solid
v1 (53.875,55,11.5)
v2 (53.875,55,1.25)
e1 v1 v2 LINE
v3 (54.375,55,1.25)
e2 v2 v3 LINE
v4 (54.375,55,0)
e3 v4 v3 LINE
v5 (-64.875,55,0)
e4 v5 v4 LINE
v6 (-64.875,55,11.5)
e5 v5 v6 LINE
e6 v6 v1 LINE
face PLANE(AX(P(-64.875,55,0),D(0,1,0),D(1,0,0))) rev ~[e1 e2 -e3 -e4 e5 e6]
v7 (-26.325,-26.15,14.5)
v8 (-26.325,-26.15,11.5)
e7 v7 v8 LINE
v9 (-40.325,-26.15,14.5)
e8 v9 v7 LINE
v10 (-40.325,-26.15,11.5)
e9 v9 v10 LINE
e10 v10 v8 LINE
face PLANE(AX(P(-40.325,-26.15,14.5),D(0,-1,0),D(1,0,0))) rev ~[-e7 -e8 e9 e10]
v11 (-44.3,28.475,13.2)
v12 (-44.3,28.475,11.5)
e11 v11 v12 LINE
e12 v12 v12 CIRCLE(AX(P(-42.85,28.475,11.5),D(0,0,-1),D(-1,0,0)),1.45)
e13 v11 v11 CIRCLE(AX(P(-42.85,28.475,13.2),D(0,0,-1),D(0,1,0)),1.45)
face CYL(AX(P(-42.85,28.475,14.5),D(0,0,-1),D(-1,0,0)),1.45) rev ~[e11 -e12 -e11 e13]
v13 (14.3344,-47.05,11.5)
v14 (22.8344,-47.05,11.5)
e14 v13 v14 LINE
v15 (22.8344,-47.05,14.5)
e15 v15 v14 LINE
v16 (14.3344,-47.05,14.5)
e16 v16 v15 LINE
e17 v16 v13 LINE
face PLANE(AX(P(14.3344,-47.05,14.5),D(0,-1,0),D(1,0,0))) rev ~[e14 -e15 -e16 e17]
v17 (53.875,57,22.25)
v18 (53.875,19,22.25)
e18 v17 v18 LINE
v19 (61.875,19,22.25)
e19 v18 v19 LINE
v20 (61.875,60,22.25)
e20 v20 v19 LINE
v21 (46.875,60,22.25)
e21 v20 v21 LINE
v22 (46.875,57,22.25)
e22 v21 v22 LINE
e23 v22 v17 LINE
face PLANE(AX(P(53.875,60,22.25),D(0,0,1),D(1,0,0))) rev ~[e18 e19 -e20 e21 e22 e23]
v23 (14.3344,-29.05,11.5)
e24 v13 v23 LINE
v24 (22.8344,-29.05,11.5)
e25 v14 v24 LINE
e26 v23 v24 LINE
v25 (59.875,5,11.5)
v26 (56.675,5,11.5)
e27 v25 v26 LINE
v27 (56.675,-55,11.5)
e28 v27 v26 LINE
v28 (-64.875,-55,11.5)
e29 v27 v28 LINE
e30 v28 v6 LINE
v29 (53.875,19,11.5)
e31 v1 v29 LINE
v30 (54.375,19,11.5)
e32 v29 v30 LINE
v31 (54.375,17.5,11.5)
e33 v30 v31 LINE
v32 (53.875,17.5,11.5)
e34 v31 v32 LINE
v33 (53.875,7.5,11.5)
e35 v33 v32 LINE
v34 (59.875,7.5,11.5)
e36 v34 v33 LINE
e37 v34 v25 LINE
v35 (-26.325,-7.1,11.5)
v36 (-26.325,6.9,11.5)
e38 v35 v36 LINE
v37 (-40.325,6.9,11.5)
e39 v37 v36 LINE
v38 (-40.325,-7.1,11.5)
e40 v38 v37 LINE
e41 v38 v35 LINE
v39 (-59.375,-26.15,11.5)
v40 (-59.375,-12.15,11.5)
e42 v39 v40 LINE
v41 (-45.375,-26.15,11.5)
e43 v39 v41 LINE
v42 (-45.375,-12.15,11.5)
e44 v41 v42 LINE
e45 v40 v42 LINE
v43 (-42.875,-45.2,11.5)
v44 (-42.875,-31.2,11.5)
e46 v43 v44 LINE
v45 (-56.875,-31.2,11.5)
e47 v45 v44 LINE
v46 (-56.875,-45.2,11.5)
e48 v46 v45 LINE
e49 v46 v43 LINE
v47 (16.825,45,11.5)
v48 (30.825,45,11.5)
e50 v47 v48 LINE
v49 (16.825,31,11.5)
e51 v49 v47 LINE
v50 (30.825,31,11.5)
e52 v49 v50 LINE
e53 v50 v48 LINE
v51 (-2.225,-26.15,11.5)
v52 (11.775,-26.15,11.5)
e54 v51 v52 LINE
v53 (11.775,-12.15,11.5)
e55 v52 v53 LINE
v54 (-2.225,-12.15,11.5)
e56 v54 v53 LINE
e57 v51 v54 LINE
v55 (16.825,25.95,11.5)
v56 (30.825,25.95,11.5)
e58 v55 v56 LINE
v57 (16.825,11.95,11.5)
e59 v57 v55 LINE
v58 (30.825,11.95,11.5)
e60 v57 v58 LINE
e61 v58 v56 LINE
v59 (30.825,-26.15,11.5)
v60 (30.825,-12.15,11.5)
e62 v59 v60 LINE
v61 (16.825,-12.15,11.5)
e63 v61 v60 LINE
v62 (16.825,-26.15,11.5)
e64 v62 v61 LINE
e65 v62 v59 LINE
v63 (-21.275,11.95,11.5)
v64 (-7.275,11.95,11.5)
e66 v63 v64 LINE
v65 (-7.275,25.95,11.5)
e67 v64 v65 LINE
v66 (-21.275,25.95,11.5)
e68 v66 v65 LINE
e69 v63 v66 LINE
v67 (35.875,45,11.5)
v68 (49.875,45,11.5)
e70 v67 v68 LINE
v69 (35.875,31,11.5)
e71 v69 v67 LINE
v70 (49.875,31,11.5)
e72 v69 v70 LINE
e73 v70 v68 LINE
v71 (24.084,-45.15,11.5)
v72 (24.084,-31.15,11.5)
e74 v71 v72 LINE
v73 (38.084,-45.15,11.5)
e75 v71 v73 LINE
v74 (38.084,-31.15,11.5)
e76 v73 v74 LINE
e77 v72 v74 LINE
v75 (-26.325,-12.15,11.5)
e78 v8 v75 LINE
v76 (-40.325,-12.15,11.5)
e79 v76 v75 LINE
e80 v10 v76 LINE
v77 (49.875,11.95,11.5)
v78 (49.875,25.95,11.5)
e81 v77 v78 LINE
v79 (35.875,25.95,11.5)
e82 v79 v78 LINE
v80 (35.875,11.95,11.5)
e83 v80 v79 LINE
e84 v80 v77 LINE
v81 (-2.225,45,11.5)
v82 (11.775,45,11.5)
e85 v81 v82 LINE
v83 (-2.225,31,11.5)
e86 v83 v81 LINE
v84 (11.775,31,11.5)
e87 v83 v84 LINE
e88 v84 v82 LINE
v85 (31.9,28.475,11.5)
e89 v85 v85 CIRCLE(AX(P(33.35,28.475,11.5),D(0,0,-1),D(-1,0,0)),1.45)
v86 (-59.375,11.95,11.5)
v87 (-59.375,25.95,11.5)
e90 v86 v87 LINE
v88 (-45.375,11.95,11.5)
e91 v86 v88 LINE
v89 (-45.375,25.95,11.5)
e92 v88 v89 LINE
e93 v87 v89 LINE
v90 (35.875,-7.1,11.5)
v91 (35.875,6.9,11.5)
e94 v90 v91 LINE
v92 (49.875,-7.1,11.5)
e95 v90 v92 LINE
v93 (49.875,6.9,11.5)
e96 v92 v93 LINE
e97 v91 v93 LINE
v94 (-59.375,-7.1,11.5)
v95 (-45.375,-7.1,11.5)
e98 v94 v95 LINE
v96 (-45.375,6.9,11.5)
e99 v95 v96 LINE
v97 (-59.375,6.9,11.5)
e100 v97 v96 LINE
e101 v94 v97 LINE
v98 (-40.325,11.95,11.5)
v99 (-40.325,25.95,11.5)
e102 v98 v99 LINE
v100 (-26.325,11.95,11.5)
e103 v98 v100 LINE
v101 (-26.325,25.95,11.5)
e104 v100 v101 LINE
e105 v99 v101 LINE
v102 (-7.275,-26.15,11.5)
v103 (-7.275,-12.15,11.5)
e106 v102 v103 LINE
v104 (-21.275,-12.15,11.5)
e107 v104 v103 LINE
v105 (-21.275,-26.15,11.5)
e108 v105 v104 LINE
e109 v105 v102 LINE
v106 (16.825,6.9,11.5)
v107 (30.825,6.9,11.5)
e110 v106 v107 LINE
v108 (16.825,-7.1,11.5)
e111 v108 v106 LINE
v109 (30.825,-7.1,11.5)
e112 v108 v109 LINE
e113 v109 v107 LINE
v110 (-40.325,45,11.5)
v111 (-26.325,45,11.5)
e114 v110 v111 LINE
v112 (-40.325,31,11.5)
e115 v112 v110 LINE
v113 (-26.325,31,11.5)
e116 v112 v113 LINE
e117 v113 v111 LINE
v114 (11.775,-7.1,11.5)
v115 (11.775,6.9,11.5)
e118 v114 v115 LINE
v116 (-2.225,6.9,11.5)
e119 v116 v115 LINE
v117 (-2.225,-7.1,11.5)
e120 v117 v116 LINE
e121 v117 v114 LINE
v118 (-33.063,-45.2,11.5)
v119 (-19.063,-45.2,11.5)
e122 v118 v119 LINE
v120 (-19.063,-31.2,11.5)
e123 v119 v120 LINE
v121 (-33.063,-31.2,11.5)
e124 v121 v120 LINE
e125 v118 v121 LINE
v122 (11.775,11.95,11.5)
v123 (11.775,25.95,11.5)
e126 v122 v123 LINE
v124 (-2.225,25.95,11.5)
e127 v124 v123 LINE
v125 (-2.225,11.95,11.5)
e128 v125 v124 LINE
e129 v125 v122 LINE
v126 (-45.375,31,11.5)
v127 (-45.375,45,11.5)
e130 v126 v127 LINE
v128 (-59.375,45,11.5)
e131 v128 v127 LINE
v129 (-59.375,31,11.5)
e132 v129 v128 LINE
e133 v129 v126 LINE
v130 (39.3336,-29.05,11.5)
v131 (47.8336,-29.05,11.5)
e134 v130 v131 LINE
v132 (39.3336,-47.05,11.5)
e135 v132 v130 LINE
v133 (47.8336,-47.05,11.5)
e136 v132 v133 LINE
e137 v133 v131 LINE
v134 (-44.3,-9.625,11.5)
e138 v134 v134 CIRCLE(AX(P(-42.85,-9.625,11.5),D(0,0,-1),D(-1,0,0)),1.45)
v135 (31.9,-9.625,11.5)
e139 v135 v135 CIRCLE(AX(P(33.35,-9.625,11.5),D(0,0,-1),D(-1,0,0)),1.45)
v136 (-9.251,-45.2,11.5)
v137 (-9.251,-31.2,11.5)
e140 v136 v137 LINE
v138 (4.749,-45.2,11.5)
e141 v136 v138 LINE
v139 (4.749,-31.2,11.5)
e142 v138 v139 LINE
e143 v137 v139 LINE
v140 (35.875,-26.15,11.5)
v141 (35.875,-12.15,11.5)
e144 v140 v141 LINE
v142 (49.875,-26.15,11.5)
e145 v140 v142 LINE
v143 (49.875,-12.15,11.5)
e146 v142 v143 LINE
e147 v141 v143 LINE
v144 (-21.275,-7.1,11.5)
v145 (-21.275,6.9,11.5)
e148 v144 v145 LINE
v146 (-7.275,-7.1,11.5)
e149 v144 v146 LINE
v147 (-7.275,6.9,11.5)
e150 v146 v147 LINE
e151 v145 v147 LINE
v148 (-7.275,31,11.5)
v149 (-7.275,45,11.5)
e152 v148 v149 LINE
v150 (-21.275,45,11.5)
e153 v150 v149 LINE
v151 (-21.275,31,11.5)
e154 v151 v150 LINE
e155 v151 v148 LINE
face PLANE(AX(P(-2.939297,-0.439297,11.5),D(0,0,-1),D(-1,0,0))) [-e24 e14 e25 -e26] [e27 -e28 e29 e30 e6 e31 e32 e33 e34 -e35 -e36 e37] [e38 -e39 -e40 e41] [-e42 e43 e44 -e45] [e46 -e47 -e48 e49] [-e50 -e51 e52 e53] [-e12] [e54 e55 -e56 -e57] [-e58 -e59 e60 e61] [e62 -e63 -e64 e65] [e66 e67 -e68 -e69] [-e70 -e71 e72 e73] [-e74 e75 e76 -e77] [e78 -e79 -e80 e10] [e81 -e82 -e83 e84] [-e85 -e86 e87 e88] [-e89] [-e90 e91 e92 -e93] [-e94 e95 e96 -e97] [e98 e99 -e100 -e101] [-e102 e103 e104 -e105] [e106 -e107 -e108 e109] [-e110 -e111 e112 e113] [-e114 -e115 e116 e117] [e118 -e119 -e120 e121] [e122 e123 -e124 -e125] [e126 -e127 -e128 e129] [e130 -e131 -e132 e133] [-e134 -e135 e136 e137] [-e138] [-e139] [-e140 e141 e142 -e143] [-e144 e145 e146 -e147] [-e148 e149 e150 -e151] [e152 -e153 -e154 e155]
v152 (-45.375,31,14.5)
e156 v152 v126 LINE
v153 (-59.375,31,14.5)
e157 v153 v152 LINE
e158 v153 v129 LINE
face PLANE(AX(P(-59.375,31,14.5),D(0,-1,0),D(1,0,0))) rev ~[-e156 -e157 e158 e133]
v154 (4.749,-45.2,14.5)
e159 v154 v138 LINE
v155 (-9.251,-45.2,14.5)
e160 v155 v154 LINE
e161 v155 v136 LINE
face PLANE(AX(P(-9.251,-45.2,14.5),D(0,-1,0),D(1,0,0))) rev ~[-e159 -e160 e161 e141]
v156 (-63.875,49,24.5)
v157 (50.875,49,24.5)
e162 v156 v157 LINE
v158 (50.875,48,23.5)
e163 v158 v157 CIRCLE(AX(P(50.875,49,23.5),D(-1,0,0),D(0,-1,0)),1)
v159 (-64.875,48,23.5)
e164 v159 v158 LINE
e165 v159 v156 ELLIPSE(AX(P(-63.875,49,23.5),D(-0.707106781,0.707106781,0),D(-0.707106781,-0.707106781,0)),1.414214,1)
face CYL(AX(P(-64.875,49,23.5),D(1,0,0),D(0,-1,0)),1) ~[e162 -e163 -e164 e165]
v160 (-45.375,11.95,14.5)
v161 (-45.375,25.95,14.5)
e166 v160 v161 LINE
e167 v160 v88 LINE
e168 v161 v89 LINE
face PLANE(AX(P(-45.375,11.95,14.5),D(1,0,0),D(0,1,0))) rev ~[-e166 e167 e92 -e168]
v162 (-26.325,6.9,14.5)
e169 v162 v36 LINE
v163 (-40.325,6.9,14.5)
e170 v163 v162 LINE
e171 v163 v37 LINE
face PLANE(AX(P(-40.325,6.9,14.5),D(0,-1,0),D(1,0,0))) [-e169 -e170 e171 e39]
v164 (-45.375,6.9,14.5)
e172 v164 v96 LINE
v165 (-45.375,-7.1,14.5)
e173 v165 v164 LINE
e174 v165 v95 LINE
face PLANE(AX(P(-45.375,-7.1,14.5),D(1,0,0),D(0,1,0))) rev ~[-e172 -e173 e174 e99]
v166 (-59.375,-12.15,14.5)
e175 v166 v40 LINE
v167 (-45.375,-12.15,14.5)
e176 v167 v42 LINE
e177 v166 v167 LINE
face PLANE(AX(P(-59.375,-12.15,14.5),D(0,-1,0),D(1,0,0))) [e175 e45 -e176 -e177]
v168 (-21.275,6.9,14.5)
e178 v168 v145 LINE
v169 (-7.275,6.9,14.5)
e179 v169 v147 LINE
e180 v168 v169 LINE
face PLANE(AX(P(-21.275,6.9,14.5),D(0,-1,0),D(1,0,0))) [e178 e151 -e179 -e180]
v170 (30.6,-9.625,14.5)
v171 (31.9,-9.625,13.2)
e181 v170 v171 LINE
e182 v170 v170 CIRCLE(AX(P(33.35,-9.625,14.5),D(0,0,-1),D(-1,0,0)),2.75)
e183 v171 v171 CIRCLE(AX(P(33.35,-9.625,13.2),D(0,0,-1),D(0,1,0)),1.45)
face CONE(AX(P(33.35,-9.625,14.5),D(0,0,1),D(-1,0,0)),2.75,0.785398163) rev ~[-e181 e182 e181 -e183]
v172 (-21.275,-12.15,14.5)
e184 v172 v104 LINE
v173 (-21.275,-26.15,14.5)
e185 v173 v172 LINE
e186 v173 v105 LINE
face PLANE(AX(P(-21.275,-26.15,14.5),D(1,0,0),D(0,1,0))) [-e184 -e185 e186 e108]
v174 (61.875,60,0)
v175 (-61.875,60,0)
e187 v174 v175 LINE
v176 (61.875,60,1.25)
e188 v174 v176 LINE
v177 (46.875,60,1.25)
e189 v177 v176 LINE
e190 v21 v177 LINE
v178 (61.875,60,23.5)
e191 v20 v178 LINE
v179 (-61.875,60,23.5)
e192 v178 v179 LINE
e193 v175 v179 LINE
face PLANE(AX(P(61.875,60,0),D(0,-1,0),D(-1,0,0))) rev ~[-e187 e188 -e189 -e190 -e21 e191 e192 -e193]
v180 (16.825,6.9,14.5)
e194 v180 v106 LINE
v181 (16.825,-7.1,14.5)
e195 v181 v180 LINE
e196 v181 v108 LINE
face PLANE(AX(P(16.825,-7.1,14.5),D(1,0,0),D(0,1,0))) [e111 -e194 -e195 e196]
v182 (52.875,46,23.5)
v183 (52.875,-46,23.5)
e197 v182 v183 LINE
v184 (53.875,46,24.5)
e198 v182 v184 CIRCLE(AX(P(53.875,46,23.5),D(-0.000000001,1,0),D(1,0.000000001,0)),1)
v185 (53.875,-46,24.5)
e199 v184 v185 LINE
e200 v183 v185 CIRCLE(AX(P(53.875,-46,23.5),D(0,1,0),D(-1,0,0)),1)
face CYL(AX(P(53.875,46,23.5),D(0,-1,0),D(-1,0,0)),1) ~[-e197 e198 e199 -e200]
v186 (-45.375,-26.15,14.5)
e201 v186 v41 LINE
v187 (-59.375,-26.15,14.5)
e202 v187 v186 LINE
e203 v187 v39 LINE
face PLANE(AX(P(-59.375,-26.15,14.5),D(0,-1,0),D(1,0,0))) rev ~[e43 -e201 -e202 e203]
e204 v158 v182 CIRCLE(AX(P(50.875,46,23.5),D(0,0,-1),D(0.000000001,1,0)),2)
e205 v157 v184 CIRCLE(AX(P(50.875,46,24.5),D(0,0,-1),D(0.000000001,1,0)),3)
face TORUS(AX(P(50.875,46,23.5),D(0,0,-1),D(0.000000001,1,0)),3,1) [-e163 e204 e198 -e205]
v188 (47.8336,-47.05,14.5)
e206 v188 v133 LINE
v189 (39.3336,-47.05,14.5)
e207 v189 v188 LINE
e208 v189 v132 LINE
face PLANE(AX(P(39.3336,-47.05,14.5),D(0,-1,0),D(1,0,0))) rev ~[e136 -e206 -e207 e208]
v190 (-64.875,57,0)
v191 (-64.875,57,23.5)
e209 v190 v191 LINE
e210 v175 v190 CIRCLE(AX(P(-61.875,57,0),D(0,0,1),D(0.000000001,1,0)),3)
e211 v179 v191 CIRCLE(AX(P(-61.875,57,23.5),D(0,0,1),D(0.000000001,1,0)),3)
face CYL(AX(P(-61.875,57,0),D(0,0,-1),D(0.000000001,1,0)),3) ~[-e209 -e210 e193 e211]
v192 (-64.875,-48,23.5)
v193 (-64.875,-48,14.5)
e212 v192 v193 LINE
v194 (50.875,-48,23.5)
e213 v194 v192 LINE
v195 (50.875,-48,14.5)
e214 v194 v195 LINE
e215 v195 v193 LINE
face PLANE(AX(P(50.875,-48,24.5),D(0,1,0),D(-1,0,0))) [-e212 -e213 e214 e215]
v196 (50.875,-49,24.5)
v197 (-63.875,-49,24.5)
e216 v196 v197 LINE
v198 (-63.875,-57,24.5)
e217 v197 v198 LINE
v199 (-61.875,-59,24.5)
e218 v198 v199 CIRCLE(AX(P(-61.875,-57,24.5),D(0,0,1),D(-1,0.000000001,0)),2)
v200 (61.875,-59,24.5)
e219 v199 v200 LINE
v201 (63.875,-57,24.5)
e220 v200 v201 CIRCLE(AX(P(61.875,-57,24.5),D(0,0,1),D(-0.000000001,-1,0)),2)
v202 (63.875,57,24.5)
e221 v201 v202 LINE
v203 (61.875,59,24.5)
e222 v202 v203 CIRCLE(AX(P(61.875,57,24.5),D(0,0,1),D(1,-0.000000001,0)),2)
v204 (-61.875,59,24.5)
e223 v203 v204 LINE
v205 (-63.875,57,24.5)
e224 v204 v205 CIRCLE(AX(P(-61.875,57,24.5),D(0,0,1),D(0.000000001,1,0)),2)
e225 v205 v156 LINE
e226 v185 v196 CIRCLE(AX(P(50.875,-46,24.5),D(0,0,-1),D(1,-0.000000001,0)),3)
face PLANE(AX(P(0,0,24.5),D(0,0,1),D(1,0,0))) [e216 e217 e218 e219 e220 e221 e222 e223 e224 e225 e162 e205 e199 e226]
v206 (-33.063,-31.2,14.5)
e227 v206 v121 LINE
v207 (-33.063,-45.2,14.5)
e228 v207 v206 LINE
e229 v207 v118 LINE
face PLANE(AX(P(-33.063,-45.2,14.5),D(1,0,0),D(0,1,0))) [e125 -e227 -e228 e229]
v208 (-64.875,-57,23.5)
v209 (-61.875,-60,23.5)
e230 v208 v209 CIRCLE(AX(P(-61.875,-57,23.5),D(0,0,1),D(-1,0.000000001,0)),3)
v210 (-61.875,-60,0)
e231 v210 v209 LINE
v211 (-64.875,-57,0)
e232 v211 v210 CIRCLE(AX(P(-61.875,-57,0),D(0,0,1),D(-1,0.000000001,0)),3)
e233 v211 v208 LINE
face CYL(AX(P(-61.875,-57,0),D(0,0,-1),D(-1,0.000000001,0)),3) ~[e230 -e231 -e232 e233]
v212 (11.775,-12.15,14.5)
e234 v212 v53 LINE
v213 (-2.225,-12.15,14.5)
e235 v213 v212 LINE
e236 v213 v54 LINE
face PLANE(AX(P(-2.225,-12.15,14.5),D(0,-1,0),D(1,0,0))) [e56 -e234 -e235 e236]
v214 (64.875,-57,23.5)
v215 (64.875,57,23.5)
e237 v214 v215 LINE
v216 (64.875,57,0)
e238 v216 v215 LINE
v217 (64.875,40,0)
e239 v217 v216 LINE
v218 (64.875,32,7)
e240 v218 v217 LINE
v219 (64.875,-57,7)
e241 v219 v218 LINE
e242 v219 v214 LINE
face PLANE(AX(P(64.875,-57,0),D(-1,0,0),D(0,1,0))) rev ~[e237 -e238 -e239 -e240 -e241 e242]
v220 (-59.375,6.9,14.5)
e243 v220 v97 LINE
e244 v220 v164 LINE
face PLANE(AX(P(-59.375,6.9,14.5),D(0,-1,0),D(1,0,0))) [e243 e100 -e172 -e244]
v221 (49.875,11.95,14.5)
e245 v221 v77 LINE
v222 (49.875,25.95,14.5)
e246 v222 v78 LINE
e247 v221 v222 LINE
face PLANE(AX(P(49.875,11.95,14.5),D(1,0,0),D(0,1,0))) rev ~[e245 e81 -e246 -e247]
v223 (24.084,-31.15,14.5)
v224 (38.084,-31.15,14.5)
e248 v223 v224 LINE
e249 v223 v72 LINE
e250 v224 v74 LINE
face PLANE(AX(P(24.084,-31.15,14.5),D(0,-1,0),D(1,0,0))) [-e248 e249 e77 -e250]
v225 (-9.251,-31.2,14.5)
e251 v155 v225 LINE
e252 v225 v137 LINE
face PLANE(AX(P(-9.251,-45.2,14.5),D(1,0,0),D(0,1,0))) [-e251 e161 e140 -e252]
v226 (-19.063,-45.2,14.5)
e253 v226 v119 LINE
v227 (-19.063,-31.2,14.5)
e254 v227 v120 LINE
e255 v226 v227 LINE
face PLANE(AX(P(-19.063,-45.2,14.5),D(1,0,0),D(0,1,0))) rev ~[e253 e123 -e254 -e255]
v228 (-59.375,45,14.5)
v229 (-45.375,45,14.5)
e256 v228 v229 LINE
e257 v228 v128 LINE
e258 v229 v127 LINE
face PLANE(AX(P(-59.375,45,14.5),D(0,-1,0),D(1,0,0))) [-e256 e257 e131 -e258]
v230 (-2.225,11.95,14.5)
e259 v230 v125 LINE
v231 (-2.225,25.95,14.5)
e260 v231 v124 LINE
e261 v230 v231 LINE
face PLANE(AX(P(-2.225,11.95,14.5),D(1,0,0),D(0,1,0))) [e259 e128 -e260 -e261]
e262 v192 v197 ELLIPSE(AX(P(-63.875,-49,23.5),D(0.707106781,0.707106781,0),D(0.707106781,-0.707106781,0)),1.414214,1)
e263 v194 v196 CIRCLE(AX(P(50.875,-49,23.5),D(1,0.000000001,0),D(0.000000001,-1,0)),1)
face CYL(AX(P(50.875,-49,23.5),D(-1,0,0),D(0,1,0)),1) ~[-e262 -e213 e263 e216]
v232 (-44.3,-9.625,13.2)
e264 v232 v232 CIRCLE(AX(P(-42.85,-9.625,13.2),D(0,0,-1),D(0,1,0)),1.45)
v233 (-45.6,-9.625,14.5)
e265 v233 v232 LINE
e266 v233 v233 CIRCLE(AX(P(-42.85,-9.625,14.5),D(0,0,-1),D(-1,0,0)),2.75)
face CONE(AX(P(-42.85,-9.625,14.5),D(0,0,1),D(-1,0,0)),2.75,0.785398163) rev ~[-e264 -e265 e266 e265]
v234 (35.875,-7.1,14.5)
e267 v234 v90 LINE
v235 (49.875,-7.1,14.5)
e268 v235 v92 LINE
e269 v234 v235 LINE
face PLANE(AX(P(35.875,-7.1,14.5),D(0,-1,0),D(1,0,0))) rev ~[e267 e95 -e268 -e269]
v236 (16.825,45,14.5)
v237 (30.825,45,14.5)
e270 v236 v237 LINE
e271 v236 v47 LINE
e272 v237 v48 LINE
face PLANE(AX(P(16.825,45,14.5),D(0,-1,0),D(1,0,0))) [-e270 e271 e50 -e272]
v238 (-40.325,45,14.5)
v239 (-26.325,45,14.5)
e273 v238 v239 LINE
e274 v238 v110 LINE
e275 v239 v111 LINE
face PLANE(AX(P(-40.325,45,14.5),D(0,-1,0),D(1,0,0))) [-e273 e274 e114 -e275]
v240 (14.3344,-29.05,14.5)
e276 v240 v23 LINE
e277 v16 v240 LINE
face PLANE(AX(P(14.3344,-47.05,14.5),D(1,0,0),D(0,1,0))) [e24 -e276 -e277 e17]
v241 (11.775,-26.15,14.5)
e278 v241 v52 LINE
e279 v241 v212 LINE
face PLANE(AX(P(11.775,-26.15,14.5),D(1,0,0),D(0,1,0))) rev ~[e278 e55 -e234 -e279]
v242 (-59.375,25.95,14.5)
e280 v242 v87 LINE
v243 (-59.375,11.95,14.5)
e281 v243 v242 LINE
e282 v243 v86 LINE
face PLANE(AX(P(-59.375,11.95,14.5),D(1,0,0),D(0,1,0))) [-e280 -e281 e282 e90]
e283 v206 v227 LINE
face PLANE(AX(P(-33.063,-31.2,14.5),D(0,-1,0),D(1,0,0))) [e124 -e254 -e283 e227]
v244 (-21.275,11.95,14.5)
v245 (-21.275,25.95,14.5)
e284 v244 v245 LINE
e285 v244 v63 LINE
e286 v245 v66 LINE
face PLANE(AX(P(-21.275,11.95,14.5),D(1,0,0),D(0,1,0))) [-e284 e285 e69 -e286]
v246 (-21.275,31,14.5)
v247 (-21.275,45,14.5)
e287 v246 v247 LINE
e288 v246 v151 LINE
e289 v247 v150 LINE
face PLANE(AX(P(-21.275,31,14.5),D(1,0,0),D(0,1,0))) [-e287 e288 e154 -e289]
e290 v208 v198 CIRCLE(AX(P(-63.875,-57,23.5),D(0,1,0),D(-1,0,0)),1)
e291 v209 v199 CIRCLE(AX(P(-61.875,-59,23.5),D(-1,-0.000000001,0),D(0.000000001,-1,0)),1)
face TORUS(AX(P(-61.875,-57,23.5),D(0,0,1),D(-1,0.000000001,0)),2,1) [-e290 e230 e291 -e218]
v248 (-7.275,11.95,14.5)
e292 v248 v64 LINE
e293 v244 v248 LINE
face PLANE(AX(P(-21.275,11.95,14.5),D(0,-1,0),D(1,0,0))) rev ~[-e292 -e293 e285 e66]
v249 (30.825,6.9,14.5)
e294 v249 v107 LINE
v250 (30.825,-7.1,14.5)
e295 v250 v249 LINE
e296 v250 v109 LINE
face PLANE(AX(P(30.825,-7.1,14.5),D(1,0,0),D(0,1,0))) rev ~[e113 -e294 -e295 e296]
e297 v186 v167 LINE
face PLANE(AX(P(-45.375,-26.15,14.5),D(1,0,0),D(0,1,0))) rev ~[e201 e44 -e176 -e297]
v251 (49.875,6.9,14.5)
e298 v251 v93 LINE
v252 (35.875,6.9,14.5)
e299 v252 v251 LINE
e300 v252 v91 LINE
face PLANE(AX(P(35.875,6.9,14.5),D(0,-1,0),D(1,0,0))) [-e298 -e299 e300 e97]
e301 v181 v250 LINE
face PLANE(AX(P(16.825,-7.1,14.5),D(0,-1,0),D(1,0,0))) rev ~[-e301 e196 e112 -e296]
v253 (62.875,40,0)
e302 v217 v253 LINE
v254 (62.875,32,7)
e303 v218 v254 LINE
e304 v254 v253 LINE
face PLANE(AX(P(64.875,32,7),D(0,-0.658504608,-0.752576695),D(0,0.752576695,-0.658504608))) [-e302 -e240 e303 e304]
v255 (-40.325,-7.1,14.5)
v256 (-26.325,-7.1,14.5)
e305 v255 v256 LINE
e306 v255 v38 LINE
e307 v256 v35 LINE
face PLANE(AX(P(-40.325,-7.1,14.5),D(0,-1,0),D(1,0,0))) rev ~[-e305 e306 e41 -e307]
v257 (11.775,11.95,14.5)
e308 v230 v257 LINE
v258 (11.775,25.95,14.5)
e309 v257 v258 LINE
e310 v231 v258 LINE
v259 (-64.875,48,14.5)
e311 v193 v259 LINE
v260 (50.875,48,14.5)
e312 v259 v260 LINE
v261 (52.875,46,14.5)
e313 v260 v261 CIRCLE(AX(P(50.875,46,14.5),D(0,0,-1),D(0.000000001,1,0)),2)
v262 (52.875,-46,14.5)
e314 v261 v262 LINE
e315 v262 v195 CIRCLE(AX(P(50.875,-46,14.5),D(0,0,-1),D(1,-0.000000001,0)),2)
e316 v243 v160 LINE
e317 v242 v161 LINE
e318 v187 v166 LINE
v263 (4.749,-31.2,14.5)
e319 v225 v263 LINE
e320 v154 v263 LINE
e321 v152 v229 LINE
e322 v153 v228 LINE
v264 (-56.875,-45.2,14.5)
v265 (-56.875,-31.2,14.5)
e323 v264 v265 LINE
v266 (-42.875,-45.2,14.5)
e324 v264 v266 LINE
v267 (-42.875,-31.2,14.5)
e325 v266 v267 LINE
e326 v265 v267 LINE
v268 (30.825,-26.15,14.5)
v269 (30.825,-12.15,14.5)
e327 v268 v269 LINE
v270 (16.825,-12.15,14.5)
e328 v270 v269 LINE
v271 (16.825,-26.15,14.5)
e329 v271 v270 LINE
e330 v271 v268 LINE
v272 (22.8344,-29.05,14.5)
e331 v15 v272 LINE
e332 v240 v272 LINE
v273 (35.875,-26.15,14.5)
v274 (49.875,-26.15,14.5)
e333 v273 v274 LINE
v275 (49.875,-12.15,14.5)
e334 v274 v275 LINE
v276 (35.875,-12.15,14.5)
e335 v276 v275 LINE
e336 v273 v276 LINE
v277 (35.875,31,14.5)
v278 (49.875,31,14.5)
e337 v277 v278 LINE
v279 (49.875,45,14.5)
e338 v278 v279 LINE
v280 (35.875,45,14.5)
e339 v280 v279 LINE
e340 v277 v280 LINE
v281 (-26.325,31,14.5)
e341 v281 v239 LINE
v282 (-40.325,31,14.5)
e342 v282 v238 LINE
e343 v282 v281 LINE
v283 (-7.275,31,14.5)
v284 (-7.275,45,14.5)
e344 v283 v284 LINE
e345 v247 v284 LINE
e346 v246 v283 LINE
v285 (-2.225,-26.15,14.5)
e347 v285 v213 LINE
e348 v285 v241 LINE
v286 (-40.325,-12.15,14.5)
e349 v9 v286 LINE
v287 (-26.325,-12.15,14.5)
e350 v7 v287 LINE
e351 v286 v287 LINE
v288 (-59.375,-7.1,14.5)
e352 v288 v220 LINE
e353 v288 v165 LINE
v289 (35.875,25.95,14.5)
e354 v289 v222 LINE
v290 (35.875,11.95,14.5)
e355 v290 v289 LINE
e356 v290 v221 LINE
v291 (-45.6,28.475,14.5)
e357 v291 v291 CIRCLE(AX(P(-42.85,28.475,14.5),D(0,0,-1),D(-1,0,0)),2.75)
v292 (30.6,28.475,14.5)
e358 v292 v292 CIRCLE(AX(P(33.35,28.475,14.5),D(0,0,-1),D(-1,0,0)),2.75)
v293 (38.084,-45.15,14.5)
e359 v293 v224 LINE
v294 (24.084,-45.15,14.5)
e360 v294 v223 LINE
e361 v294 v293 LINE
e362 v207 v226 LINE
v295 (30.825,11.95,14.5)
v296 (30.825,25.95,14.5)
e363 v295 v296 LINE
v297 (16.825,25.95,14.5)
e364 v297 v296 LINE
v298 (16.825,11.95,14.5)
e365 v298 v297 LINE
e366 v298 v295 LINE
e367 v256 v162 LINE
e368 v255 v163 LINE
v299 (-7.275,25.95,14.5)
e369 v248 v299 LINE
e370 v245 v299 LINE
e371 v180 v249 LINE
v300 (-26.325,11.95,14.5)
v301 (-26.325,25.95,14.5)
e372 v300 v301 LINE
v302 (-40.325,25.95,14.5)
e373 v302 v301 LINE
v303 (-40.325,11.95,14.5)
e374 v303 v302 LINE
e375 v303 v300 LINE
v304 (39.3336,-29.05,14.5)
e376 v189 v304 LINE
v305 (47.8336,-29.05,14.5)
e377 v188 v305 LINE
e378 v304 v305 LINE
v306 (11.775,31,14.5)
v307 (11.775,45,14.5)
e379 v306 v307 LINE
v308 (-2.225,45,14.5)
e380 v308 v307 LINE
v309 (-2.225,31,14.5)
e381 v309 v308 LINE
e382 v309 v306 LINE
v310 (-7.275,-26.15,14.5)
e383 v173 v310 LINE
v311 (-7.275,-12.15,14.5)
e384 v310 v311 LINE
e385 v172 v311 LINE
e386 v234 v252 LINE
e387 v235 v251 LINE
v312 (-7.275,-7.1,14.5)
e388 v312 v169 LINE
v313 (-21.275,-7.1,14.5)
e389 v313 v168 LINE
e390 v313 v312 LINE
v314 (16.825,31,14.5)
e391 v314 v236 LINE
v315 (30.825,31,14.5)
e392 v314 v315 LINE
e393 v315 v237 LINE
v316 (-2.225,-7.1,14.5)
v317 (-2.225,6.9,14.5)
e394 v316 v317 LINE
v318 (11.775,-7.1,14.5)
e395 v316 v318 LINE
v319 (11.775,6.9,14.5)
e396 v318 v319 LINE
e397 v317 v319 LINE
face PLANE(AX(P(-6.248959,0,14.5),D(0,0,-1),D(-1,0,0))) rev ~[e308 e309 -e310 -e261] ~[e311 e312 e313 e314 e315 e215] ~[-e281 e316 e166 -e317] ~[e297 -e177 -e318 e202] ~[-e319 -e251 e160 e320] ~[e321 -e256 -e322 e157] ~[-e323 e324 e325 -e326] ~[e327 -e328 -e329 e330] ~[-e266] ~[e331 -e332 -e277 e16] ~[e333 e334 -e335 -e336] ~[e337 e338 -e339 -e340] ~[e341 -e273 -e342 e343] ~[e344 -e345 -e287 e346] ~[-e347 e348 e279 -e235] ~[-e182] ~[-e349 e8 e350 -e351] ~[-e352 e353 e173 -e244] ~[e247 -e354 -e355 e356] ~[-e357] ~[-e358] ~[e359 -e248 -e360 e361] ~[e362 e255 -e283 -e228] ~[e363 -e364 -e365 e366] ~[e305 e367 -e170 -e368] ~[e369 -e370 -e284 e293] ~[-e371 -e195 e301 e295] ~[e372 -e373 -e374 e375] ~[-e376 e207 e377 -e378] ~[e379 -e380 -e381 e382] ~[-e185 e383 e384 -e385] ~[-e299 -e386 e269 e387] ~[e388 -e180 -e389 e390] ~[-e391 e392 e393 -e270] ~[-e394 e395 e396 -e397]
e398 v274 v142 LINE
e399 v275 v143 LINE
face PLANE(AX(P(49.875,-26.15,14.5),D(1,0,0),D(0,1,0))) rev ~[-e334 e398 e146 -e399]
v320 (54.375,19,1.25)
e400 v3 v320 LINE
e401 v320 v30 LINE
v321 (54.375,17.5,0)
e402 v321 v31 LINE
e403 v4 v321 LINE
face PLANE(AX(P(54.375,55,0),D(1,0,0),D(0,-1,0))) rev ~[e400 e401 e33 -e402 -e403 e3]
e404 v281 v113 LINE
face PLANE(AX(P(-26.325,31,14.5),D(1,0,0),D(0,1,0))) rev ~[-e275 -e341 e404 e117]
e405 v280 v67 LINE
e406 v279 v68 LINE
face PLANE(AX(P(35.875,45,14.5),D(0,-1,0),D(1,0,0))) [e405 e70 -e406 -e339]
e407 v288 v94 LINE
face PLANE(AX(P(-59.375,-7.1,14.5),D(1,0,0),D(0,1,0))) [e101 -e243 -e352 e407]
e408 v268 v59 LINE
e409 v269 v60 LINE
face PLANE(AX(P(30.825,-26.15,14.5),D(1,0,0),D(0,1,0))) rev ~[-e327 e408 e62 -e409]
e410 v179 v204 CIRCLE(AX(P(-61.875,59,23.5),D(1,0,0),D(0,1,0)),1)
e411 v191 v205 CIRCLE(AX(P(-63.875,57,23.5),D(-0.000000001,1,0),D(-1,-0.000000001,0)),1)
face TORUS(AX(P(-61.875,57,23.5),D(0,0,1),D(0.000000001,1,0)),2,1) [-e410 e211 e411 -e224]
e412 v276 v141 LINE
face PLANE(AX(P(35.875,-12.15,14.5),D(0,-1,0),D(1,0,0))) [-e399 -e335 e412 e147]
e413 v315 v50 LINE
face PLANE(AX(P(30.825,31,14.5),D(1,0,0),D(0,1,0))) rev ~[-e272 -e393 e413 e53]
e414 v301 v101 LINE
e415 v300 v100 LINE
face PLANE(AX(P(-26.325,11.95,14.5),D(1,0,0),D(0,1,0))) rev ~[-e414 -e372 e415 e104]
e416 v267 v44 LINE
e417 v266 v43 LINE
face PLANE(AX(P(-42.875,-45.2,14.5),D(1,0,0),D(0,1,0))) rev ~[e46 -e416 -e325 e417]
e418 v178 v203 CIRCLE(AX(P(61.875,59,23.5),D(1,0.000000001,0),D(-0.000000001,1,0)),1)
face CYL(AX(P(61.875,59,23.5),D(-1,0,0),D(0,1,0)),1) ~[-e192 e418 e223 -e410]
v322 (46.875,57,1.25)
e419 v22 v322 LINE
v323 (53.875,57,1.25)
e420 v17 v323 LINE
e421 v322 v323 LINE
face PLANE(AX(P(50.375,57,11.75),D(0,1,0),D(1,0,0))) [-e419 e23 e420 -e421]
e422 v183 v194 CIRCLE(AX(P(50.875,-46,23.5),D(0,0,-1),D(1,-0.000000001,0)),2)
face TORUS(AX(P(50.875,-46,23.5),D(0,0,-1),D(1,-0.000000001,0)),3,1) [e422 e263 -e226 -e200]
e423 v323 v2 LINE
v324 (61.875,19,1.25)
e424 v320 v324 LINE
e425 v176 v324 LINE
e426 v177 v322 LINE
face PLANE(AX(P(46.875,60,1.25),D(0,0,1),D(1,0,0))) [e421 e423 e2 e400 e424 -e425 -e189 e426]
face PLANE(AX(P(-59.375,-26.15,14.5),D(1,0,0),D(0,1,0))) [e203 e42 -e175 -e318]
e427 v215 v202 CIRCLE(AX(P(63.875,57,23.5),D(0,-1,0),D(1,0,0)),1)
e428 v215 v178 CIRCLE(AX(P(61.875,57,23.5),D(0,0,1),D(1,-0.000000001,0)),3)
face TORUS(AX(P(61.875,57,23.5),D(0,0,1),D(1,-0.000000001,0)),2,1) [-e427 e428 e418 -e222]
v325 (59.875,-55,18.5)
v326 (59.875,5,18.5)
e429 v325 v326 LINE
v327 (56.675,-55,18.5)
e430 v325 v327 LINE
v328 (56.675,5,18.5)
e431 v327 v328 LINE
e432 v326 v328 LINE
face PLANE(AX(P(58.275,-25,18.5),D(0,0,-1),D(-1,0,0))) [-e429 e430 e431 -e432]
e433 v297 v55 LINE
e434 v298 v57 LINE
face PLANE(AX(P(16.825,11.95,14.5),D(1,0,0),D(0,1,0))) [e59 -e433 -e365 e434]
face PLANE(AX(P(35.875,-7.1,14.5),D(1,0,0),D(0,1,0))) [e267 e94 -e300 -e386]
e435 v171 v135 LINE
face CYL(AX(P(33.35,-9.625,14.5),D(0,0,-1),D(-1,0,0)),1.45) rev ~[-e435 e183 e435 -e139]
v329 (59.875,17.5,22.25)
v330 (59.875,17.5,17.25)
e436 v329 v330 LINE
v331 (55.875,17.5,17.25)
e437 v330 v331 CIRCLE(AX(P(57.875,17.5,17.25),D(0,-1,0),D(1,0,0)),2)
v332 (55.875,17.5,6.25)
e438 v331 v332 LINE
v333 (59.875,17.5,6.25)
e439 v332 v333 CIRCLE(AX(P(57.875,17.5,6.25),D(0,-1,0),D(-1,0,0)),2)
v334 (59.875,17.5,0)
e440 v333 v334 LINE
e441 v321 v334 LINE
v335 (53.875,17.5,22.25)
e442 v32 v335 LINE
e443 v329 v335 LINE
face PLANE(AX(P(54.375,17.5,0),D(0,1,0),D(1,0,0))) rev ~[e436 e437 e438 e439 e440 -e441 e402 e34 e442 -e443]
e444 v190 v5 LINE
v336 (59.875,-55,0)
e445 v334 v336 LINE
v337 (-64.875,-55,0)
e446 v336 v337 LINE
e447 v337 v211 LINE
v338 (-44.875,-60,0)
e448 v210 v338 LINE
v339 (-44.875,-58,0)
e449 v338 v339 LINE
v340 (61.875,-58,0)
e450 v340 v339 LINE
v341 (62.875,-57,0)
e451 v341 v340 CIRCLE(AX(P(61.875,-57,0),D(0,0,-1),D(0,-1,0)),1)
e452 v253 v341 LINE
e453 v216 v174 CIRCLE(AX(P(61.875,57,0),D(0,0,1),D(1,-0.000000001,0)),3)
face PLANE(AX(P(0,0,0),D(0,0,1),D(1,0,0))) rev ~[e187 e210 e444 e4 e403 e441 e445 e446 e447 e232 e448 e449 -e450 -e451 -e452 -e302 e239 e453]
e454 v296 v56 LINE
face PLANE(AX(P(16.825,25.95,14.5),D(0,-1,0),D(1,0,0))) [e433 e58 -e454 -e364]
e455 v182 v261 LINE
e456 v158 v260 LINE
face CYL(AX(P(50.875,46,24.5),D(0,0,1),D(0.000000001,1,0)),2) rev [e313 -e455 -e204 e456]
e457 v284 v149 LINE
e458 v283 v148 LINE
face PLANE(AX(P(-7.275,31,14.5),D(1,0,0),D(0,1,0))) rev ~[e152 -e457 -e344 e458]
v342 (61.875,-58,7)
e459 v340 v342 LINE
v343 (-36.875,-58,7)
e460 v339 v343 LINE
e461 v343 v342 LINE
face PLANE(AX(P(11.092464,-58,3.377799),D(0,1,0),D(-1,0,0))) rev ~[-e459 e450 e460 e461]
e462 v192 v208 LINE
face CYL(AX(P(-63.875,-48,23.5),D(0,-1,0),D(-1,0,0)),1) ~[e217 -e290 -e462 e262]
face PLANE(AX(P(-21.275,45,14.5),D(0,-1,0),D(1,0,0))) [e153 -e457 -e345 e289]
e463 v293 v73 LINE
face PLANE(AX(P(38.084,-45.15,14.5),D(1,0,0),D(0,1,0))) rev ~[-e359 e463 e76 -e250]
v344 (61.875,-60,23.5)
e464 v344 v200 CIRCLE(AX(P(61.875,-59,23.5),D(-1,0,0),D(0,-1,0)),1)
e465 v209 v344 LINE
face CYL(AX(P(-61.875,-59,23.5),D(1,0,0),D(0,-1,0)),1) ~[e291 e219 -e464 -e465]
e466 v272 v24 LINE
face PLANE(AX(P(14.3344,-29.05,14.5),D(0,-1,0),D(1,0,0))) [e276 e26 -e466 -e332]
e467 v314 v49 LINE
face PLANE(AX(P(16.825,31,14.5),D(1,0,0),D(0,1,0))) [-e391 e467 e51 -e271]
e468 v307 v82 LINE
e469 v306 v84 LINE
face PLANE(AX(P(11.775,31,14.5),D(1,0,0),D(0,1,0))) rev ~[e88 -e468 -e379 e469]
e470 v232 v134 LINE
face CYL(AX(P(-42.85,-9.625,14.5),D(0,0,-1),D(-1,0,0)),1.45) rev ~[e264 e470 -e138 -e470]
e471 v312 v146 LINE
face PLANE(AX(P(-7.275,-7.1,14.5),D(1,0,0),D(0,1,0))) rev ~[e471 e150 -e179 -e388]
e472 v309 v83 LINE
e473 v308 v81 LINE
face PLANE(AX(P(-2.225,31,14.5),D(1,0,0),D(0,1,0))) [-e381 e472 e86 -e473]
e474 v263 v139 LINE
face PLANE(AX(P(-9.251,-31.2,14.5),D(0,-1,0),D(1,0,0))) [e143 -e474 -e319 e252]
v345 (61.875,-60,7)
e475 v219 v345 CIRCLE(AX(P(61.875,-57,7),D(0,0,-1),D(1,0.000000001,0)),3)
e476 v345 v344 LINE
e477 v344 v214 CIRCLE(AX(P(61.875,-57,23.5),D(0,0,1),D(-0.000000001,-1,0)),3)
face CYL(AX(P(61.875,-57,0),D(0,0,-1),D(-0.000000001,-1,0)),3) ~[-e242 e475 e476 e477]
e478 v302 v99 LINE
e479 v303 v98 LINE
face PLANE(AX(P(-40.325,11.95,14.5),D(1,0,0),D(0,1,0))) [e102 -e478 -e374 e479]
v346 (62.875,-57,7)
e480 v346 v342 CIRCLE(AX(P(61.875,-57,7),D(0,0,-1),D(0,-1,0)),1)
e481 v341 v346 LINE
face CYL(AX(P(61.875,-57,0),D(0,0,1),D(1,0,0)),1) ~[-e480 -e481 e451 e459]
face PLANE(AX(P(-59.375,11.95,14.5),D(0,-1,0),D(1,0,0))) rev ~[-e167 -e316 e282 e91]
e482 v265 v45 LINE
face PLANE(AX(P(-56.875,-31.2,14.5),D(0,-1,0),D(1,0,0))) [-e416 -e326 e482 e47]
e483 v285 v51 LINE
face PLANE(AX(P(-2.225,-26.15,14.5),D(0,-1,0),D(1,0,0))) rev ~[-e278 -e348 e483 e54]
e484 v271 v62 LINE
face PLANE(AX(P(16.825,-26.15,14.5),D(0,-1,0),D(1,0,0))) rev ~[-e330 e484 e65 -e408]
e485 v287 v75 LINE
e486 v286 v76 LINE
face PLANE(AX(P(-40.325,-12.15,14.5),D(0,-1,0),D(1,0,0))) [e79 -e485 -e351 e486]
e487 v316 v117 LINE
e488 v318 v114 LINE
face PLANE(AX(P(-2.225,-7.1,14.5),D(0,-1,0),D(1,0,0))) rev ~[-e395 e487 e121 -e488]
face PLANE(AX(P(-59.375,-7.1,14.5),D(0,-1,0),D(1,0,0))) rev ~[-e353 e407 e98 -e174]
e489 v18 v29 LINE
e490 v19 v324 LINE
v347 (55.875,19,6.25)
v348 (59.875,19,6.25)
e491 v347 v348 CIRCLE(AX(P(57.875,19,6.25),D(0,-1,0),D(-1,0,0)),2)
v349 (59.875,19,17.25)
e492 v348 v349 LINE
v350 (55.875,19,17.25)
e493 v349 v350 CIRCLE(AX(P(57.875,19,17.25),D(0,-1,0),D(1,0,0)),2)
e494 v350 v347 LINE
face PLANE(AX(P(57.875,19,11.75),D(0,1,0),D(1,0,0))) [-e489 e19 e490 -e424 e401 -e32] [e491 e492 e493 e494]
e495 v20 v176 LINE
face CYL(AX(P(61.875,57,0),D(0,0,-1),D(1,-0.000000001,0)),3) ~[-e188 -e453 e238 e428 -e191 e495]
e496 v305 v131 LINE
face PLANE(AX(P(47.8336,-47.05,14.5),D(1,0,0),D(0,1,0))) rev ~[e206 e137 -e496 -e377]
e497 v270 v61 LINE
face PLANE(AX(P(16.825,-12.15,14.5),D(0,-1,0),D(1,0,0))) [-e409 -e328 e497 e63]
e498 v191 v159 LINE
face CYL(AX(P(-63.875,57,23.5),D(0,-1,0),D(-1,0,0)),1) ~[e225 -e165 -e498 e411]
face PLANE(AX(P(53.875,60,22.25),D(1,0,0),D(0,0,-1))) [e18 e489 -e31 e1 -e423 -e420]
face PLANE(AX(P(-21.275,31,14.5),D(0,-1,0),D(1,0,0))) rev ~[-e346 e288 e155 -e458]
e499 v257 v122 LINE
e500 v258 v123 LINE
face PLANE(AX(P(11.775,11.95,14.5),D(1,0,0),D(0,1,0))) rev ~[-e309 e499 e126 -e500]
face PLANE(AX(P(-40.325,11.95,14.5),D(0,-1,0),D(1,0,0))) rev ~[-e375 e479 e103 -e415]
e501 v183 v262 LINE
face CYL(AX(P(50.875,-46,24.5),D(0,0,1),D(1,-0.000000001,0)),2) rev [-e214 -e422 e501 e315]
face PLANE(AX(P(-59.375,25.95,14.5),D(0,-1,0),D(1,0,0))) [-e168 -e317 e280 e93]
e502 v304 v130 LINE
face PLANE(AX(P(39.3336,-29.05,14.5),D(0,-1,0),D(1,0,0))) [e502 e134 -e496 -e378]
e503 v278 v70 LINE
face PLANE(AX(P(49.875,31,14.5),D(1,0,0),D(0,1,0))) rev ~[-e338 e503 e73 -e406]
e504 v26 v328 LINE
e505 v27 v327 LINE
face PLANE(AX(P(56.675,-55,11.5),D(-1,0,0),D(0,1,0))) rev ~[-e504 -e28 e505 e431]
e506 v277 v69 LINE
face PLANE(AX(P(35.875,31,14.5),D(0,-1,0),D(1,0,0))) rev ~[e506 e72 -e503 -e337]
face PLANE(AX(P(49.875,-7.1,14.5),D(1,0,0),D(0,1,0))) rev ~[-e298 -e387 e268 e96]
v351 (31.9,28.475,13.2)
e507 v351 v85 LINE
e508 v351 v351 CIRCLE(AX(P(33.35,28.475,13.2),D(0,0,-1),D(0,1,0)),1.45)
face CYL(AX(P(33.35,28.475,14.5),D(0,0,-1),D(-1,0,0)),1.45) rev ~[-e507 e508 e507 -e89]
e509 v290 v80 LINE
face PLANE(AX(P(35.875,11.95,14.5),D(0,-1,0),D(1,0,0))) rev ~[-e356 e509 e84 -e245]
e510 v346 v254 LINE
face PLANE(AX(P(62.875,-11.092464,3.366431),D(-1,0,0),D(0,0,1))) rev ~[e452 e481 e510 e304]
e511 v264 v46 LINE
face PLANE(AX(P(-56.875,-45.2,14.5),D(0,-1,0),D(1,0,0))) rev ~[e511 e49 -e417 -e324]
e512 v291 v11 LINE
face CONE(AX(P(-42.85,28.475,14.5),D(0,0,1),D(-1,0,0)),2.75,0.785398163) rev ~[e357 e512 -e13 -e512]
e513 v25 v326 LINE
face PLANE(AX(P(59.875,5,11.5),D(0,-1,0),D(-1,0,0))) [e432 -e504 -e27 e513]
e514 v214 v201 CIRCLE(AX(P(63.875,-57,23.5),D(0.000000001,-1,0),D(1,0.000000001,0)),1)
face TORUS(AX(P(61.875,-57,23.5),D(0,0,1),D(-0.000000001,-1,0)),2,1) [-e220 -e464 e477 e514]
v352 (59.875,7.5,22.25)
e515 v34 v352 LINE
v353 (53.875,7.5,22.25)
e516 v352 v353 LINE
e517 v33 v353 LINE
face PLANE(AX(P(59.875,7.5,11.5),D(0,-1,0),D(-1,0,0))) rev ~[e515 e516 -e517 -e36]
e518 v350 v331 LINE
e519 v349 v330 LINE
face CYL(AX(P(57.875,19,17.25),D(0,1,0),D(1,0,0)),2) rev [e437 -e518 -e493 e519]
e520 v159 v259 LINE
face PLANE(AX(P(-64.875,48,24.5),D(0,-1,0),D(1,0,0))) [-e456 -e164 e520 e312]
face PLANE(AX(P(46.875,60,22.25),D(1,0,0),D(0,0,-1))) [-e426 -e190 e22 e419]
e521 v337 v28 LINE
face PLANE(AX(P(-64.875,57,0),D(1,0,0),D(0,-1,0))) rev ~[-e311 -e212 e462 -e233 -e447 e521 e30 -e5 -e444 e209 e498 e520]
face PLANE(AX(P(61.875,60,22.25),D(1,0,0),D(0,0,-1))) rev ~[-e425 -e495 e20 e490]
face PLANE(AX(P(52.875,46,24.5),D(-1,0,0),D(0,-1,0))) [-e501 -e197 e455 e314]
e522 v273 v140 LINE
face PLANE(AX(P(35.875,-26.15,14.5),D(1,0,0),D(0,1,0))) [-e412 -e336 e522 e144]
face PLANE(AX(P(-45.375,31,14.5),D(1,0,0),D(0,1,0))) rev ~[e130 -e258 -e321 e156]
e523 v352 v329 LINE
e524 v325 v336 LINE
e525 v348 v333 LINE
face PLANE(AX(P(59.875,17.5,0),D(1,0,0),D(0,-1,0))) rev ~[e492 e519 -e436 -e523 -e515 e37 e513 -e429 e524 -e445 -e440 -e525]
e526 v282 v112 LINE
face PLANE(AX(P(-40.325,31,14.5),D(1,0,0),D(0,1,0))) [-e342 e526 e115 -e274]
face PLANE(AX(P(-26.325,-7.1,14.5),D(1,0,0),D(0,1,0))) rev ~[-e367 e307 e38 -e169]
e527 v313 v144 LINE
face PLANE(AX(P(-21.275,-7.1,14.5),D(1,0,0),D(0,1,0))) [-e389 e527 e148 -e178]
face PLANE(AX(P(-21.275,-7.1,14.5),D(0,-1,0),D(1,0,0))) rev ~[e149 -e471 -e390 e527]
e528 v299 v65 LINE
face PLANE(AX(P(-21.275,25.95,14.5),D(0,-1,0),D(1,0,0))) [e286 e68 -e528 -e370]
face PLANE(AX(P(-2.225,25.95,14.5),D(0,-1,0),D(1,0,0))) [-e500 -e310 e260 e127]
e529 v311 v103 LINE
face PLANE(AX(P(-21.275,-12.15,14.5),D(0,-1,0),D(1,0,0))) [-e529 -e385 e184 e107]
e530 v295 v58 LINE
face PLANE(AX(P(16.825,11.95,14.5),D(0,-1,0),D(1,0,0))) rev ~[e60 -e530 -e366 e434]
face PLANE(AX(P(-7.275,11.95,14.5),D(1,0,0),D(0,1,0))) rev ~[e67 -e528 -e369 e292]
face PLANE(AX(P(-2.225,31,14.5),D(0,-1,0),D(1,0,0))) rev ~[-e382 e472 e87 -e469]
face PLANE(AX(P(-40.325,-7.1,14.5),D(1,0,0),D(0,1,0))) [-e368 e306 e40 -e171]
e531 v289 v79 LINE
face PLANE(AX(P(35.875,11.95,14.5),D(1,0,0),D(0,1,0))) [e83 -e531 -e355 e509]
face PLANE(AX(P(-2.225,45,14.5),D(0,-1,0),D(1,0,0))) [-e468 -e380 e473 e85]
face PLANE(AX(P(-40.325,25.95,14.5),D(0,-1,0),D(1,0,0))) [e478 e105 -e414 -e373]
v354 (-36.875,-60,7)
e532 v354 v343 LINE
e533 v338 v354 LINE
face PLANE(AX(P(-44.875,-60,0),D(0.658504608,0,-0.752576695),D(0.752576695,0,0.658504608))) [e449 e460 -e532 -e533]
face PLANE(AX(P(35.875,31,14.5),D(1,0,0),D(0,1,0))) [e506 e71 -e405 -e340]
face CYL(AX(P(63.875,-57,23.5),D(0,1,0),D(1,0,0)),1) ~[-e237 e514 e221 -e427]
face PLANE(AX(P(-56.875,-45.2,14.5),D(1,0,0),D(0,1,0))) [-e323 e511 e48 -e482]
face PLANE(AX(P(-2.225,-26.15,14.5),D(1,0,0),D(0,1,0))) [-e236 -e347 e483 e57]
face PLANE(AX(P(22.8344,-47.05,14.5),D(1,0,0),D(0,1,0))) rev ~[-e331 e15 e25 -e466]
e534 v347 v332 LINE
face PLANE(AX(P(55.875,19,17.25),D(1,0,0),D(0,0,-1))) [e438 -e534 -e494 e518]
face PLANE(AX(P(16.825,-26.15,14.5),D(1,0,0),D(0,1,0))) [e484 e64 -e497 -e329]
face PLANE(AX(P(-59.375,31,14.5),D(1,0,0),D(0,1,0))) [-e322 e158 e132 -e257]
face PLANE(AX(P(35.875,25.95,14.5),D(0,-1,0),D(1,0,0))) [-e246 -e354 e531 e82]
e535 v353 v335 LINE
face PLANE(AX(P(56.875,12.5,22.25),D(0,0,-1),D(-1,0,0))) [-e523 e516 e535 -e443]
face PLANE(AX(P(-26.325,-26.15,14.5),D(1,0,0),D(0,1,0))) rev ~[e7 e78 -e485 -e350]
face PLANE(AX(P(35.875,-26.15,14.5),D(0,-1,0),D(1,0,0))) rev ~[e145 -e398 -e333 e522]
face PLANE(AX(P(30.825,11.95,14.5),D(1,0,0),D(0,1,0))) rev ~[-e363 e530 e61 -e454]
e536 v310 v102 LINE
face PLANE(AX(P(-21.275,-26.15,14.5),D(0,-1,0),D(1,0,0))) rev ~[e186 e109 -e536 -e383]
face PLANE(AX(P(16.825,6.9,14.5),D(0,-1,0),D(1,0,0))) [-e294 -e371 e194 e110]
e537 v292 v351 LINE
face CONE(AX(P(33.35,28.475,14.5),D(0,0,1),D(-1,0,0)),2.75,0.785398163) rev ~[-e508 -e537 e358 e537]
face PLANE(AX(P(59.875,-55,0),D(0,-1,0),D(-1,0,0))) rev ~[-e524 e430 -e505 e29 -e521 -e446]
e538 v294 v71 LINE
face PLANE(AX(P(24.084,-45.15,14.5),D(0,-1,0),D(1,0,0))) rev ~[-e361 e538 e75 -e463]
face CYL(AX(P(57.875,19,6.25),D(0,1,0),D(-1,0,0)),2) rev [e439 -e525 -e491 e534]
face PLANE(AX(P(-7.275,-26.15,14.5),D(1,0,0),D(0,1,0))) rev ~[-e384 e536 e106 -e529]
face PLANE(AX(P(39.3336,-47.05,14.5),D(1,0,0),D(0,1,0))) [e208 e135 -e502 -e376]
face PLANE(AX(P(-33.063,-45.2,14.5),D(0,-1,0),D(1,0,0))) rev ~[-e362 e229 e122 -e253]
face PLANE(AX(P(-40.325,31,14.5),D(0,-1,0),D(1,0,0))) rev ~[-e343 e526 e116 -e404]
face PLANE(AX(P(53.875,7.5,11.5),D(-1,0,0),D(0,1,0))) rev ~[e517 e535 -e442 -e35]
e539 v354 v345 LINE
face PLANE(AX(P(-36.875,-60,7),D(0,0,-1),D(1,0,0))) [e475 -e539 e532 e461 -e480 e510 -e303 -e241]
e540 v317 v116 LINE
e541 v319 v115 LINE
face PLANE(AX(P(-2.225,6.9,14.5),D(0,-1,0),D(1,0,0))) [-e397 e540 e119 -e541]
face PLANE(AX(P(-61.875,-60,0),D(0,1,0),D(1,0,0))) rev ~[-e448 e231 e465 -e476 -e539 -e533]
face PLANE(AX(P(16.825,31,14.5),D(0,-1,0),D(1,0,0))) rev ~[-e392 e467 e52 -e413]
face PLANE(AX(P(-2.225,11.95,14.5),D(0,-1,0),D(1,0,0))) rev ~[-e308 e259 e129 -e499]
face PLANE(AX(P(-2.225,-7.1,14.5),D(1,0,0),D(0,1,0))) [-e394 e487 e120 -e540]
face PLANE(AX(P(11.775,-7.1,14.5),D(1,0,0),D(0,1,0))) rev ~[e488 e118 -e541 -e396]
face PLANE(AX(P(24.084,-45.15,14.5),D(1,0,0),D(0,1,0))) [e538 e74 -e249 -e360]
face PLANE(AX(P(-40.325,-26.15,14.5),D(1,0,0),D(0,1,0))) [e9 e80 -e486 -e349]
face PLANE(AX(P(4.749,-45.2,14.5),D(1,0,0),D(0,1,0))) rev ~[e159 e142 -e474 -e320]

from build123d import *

# Parameters (mm, degrees)
MAIN_EXTRUSION_DEPTH                                 = 24.5
FRONT_CAVE_DEPTH                                     = 10
SKETCH2_W                                            = 14
SKETCH2_H                                            = 14
SKETCH2_W_2                                          = 8.5
SKETCH2_H_2                                          = 18
KEY_CUTOUTS_DEPTH                                    = 3
CUT_EXTRUDE1_DEPTH                                   = 11.5
CSK_FOR_M2_5_COUNTERSUNK_FLAT_HEAD_SCREW_D           = 2.9
CSK_FOR_M2_5_COUNTERSUNK_FLAT_HEAD_SCREW_CSINK_D     = 5.5
CSK_FOR_M2_5_COUNTERSUNK_FLAT_HEAD_SCREW_CSINK_ANGLE = 90
CUT_EXTRUDE2_DEPTH                                   = 2
CUT_EXTRUDE3_DEPTH                                   = 2
FILLET1_R                                            = 1
SKETCH9_W                                            = 8
SKETCH9_H                                            = 21
CUT_EXTRUDE4_DEPTH                                   = 41
SKETCH10_W                                           = 6
SKETCH10_H                                           = 10
CUT_EXTRUDE5_DEPTH                                   = 10.75
CUT_EXTRUDE6_DEPTH                                   = 1.5
SKETCH13_W                                           = 3.2
SKETCH13_H                                           = 60
CUT_EXTRUDE8_DEPTH                                   = 7
SKETCH15_W                                           = 7
SKETCH15_H                                           = 21
CUT_EXTRUDE9_DEPTH                                   = 3


with BuildPart() as part:
    # Sketch1 → Main Extrusion (new body)
    with BuildSketch(Plane.XY):
        with BuildLine():
            Line((-61.875, -60), (61.875, -60))
            ThreePointArc((61.875, -60), (63.996320344, -59.121320344), (64.875, -57))
            Line((64.875, -57), (64.875, 57))
            ThreePointArc((64.875, 57), (63.996320344, 59.121320344), (61.875, 60))
            Line((61.875, 60), (-61.875, 60))
            ThreePointArc((-61.875, 60), (-63.996320344, 59.121320344), (-64.875, 57))
            Line((-64.875, 57), (-64.875, -57))
            ThreePointArc((-64.875, -57), (-63.996320344, -59.121320344), (-61.875, -60))
        make_face()
    extrude(amount=MAIN_EXTRUSION_DEPTH)

    # Sketch3 → Front Cave (cut)
    with BuildSketch(Plane.XY.offset(24.5)):
        with BuildLine():
            Line((-64.875, 48), (50.875, 48))
            ThreePointArc((50.875, 48), (52.289213562, 47.414213562), (52.875, 46))
            Line((52.875, 46), (52.875, -46))
            ThreePointArc((52.875, -46), (52.289213562, -47.414213562), (50.875, -48))
            Line((50.875, -48), (-64.875, -48))
            Line((-64.875, -48), (-64.875, 48))
        make_face()
    extrude(amount=-FRONT_CAVE_DEPTH, mode=Mode.SUBTRACT)

    # Sketch2 → Key Cutouts (cut)
    with BuildSketch(Plane.XY.offset(14.5)):
        with Locations((-52.375, -0.1)):
            Rectangle(SKETCH2_W, SKETCH2_H)
        with Locations((-52.375, 38)):
            Rectangle(SKETCH2_W, SKETCH2_H)
        with Locations((-33.325, 38)):
            Rectangle(SKETCH2_W, SKETCH2_H)
        with Locations((-14.275, 38)):
            Rectangle(SKETCH2_W, SKETCH2_H)
        with Locations((4.775, 38)):
            Rectangle(SKETCH2_W, SKETCH2_H)
        with Locations((23.825, 38)):
            Rectangle(SKETCH2_W, SKETCH2_H)
        with Locations((42.875, 38)):
            Rectangle(SKETCH2_W, SKETCH2_H)
        with Locations((18.584400006, -38.05)):
            Rectangle(SKETCH2_W_2, SKETCH2_H_2)
        with Locations((-52.375, 18.95)):
            Rectangle(SKETCH2_W, SKETCH2_H)
        with Locations((-33.325, 18.95)):
            Rectangle(SKETCH2_W, SKETCH2_H)
        with Locations((-14.275, 18.95)):
            Rectangle(SKETCH2_W, SKETCH2_H)
        with Locations((4.775, 18.95)):
            Rectangle(SKETCH2_W, SKETCH2_H)
        with Locations((23.825, 18.95)):
            Rectangle(SKETCH2_W, SKETCH2_H)
        with Locations((42.875, 18.95)):
            Rectangle(SKETCH2_W, SKETCH2_H)
        with Locations((-33.325, -0.1)):
            Rectangle(SKETCH2_W, SKETCH2_H)
        with Locations((-14.275, -0.1)):
            Rectangle(SKETCH2_W, SKETCH2_H)
        with Locations((4.775, -0.1)):
            Rectangle(SKETCH2_W, SKETCH2_H)
        with Locations((23.825, -0.1)):
            Rectangle(SKETCH2_W, SKETCH2_H)
        with Locations((42.875, -0.1)):
            Rectangle(SKETCH2_W, SKETCH2_H)
        with Locations((-52.375, -19.15)):
            Rectangle(SKETCH2_W, SKETCH2_H)
        with Locations((-33.325, -19.15)):
            Rectangle(SKETCH2_W, SKETCH2_H)
        with Locations((-14.275, -19.15)):
            Rectangle(SKETCH2_W, SKETCH2_H)
        with Locations((4.775, -19.15)):
            Rectangle(SKETCH2_W, SKETCH2_H)
        with Locations((23.825, -19.15)):
            Rectangle(SKETCH2_W, SKETCH2_H)
        with Locations((42.875, -19.15)):
            Rectangle(SKETCH2_W, SKETCH2_H)
        with Locations((-26.063, -38.2)):
            Rectangle(SKETCH2_W, SKETCH2_H)
        with Locations((-49.875, -38.2)):
            Rectangle(SKETCH2_W, SKETCH2_H)
        with Locations((-2.251, -38.2)):
            Rectangle(SKETCH2_W, SKETCH2_H)
        with Locations((31.084, -38.15)):
            Rectangle(SKETCH2_W, SKETCH2_H)
        with Locations((43.583599994, -38.05)):
            Rectangle(SKETCH2_W_2, SKETCH2_H_2)
    extrude(amount=-KEY_CUTOUTS_DEPTH, mode=Mode.SUBTRACT)

    # Sketch4 → Cut-Extrude1 (cut)
    with BuildSketch(Plane.XY):
        Polygon((-64.875, 55), (54.375, 55), (54.375, 17.5), (59.875, 17.5), (59.875, -55), (-64.875, -55), align=None)
    extrude(amount=CUT_EXTRUDE1_DEPTH, mode=Mode.SUBTRACT)

    # CSK for M2.5 Countersunk Flat Head Screw1 (through all)
    with Locations(Plane(origin=(-42.85, 28.475, 14.5), x_dir=(1, 0, 0), z_dir=(0, 0, 1))):
        with Locations((0, 0), (76.2, 0), (76.2, -38.1), (0, -38.1)):
            CounterSinkHole(CSK_FOR_M2_5_COUNTERSUNK_FLAT_HEAD_SCREW_D / 2, CSK_FOR_M2_5_COUNTERSUNK_FLAT_HEAD_SCREW_CSINK_D / 2, counter_sink_angle=CSK_FOR_M2_5_COUNTERSUNK_FLAT_HEAD_SCREW_CSINK_ANGLE)

    # Sketch6 → Cut-Extrude2 (cut)
    with BuildSketch(Plane.XZ.offset(60)):
        Polygon((-44.875, 0), (-36.875, 7), (64.875, 7), (64.875, 0), align=None)
    extrude(amount=-CUT_EXTRUDE2_DEPTH, mode=Mode.SUBTRACT)

    # Sketch8 → Cut-Extrude3 (cut)
    with BuildSketch(Plane(origin=(64.875, 0, 0), x_dir=(0, 0, -1), z_dir=(1, 0, 0))):
        Polygon((0, -60), (-7, -60), (-7, 32), (0, 40), align=None)
    extrude(amount=-CUT_EXTRUDE3_DEPTH, mode=Mode.SUBTRACT)

    # Fillet1
    fillet1_edges = [part.edges().sort_by_distance(p)[0] for p in [
        (63.996320344, 59.121320344, 24.5),
        (0, 60, 24.5),
        (-63.996320344, 59.121320344, 24.5),
        (-64.875, 52.5, 24.5),
        (-64.875, -52.5, 24.5),
        (-63.996320344, -59.121320344, 24.5),
        (0, -60, 24.5),
        (-7, -48, 24.5),
        (52.289213562, -47.414213562, 24.5),
        (52.875, 0, 24.5),
        (52.289213562, 47.414213562, 24.5),
        (-7, 48, 24.5),
        (63.996320344, -59.121320344, 24.5),
        (62.875, -58, 3.5),
        (64.875, 0, 24.5),
    ]]
    fillet(fillet1_edges, radius=FILLET1_R)

    # Sketch9 → Cut-Extrude4 (cut)
    with BuildSketch(Plane(origin=(0, 60, 0), x_dir=(1, 0, 0), z_dir=(0, 1, 0))):
        with Locations((57.875, -11.75)):
            Rectangle(SKETCH9_W, SKETCH9_H)
    extrude(amount=-CUT_EXTRUDE4_DEPTH, mode=Mode.SUBTRACT)

    # Sketch10 → Cut-Extrude5 (cut)
    with BuildSketch(Plane(origin=(0, 0, 11.5), x_dir=(-1, 0, 0), z_dir=(0, 0, -1))):
        with Locations((-56.875, 12.5)):
            Rectangle(SKETCH10_W, SKETCH10_H)
    extrude(amount=-CUT_EXTRUDE5_DEPTH, mode=Mode.SUBTRACT)

    # Sketch11 → Cut-Extrude6 (cut)
    with BuildSketch(Plane(origin=(0, 19, 0), x_dir=(1, 0, 0), z_dir=(0, 1, 0))):
        with BuildLine():
            Line((59.875, -6.25), (59.875, -17.25))
            ThreePointArc((59.875, -17.25), (57.875, -19.25), (55.875, -17.25))
            Line((55.875, -17.25), (55.875, -6.25))
            ThreePointArc((55.875, -6.25), (57.875, -4.25), (59.875, -6.25))
        make_face()
    extrude(amount=-CUT_EXTRUDE6_DEPTH, mode=Mode.SUBTRACT)

    # Sketch13 → Cut-Extrude8 (cut)
    with BuildSketch(Plane(origin=(0, 0, 11.5), x_dir=(-1, 0, 0), z_dir=(0, 0, -1))):
        with Locations((-58.275, -25)):
            Rectangle(SKETCH13_W, SKETCH13_H)
    extrude(amount=-CUT_EXTRUDE8_DEPTH, mode=Mode.SUBTRACT)

    # Sketch15 → Cut-Extrude9 (cut)
    with BuildSketch(Plane(origin=(0, 60, 0), x_dir=(1, 0, 0), z_dir=(0, 1, 0))):
        with Locations((50.375, -11.75)):
            Rectangle(SKETCH15_W, SKETCH15_H)
    extrude(amount=-CUT_EXTRUDE9_DEPTH, mode=Mode.SUBTRACT)


solid = part.part
